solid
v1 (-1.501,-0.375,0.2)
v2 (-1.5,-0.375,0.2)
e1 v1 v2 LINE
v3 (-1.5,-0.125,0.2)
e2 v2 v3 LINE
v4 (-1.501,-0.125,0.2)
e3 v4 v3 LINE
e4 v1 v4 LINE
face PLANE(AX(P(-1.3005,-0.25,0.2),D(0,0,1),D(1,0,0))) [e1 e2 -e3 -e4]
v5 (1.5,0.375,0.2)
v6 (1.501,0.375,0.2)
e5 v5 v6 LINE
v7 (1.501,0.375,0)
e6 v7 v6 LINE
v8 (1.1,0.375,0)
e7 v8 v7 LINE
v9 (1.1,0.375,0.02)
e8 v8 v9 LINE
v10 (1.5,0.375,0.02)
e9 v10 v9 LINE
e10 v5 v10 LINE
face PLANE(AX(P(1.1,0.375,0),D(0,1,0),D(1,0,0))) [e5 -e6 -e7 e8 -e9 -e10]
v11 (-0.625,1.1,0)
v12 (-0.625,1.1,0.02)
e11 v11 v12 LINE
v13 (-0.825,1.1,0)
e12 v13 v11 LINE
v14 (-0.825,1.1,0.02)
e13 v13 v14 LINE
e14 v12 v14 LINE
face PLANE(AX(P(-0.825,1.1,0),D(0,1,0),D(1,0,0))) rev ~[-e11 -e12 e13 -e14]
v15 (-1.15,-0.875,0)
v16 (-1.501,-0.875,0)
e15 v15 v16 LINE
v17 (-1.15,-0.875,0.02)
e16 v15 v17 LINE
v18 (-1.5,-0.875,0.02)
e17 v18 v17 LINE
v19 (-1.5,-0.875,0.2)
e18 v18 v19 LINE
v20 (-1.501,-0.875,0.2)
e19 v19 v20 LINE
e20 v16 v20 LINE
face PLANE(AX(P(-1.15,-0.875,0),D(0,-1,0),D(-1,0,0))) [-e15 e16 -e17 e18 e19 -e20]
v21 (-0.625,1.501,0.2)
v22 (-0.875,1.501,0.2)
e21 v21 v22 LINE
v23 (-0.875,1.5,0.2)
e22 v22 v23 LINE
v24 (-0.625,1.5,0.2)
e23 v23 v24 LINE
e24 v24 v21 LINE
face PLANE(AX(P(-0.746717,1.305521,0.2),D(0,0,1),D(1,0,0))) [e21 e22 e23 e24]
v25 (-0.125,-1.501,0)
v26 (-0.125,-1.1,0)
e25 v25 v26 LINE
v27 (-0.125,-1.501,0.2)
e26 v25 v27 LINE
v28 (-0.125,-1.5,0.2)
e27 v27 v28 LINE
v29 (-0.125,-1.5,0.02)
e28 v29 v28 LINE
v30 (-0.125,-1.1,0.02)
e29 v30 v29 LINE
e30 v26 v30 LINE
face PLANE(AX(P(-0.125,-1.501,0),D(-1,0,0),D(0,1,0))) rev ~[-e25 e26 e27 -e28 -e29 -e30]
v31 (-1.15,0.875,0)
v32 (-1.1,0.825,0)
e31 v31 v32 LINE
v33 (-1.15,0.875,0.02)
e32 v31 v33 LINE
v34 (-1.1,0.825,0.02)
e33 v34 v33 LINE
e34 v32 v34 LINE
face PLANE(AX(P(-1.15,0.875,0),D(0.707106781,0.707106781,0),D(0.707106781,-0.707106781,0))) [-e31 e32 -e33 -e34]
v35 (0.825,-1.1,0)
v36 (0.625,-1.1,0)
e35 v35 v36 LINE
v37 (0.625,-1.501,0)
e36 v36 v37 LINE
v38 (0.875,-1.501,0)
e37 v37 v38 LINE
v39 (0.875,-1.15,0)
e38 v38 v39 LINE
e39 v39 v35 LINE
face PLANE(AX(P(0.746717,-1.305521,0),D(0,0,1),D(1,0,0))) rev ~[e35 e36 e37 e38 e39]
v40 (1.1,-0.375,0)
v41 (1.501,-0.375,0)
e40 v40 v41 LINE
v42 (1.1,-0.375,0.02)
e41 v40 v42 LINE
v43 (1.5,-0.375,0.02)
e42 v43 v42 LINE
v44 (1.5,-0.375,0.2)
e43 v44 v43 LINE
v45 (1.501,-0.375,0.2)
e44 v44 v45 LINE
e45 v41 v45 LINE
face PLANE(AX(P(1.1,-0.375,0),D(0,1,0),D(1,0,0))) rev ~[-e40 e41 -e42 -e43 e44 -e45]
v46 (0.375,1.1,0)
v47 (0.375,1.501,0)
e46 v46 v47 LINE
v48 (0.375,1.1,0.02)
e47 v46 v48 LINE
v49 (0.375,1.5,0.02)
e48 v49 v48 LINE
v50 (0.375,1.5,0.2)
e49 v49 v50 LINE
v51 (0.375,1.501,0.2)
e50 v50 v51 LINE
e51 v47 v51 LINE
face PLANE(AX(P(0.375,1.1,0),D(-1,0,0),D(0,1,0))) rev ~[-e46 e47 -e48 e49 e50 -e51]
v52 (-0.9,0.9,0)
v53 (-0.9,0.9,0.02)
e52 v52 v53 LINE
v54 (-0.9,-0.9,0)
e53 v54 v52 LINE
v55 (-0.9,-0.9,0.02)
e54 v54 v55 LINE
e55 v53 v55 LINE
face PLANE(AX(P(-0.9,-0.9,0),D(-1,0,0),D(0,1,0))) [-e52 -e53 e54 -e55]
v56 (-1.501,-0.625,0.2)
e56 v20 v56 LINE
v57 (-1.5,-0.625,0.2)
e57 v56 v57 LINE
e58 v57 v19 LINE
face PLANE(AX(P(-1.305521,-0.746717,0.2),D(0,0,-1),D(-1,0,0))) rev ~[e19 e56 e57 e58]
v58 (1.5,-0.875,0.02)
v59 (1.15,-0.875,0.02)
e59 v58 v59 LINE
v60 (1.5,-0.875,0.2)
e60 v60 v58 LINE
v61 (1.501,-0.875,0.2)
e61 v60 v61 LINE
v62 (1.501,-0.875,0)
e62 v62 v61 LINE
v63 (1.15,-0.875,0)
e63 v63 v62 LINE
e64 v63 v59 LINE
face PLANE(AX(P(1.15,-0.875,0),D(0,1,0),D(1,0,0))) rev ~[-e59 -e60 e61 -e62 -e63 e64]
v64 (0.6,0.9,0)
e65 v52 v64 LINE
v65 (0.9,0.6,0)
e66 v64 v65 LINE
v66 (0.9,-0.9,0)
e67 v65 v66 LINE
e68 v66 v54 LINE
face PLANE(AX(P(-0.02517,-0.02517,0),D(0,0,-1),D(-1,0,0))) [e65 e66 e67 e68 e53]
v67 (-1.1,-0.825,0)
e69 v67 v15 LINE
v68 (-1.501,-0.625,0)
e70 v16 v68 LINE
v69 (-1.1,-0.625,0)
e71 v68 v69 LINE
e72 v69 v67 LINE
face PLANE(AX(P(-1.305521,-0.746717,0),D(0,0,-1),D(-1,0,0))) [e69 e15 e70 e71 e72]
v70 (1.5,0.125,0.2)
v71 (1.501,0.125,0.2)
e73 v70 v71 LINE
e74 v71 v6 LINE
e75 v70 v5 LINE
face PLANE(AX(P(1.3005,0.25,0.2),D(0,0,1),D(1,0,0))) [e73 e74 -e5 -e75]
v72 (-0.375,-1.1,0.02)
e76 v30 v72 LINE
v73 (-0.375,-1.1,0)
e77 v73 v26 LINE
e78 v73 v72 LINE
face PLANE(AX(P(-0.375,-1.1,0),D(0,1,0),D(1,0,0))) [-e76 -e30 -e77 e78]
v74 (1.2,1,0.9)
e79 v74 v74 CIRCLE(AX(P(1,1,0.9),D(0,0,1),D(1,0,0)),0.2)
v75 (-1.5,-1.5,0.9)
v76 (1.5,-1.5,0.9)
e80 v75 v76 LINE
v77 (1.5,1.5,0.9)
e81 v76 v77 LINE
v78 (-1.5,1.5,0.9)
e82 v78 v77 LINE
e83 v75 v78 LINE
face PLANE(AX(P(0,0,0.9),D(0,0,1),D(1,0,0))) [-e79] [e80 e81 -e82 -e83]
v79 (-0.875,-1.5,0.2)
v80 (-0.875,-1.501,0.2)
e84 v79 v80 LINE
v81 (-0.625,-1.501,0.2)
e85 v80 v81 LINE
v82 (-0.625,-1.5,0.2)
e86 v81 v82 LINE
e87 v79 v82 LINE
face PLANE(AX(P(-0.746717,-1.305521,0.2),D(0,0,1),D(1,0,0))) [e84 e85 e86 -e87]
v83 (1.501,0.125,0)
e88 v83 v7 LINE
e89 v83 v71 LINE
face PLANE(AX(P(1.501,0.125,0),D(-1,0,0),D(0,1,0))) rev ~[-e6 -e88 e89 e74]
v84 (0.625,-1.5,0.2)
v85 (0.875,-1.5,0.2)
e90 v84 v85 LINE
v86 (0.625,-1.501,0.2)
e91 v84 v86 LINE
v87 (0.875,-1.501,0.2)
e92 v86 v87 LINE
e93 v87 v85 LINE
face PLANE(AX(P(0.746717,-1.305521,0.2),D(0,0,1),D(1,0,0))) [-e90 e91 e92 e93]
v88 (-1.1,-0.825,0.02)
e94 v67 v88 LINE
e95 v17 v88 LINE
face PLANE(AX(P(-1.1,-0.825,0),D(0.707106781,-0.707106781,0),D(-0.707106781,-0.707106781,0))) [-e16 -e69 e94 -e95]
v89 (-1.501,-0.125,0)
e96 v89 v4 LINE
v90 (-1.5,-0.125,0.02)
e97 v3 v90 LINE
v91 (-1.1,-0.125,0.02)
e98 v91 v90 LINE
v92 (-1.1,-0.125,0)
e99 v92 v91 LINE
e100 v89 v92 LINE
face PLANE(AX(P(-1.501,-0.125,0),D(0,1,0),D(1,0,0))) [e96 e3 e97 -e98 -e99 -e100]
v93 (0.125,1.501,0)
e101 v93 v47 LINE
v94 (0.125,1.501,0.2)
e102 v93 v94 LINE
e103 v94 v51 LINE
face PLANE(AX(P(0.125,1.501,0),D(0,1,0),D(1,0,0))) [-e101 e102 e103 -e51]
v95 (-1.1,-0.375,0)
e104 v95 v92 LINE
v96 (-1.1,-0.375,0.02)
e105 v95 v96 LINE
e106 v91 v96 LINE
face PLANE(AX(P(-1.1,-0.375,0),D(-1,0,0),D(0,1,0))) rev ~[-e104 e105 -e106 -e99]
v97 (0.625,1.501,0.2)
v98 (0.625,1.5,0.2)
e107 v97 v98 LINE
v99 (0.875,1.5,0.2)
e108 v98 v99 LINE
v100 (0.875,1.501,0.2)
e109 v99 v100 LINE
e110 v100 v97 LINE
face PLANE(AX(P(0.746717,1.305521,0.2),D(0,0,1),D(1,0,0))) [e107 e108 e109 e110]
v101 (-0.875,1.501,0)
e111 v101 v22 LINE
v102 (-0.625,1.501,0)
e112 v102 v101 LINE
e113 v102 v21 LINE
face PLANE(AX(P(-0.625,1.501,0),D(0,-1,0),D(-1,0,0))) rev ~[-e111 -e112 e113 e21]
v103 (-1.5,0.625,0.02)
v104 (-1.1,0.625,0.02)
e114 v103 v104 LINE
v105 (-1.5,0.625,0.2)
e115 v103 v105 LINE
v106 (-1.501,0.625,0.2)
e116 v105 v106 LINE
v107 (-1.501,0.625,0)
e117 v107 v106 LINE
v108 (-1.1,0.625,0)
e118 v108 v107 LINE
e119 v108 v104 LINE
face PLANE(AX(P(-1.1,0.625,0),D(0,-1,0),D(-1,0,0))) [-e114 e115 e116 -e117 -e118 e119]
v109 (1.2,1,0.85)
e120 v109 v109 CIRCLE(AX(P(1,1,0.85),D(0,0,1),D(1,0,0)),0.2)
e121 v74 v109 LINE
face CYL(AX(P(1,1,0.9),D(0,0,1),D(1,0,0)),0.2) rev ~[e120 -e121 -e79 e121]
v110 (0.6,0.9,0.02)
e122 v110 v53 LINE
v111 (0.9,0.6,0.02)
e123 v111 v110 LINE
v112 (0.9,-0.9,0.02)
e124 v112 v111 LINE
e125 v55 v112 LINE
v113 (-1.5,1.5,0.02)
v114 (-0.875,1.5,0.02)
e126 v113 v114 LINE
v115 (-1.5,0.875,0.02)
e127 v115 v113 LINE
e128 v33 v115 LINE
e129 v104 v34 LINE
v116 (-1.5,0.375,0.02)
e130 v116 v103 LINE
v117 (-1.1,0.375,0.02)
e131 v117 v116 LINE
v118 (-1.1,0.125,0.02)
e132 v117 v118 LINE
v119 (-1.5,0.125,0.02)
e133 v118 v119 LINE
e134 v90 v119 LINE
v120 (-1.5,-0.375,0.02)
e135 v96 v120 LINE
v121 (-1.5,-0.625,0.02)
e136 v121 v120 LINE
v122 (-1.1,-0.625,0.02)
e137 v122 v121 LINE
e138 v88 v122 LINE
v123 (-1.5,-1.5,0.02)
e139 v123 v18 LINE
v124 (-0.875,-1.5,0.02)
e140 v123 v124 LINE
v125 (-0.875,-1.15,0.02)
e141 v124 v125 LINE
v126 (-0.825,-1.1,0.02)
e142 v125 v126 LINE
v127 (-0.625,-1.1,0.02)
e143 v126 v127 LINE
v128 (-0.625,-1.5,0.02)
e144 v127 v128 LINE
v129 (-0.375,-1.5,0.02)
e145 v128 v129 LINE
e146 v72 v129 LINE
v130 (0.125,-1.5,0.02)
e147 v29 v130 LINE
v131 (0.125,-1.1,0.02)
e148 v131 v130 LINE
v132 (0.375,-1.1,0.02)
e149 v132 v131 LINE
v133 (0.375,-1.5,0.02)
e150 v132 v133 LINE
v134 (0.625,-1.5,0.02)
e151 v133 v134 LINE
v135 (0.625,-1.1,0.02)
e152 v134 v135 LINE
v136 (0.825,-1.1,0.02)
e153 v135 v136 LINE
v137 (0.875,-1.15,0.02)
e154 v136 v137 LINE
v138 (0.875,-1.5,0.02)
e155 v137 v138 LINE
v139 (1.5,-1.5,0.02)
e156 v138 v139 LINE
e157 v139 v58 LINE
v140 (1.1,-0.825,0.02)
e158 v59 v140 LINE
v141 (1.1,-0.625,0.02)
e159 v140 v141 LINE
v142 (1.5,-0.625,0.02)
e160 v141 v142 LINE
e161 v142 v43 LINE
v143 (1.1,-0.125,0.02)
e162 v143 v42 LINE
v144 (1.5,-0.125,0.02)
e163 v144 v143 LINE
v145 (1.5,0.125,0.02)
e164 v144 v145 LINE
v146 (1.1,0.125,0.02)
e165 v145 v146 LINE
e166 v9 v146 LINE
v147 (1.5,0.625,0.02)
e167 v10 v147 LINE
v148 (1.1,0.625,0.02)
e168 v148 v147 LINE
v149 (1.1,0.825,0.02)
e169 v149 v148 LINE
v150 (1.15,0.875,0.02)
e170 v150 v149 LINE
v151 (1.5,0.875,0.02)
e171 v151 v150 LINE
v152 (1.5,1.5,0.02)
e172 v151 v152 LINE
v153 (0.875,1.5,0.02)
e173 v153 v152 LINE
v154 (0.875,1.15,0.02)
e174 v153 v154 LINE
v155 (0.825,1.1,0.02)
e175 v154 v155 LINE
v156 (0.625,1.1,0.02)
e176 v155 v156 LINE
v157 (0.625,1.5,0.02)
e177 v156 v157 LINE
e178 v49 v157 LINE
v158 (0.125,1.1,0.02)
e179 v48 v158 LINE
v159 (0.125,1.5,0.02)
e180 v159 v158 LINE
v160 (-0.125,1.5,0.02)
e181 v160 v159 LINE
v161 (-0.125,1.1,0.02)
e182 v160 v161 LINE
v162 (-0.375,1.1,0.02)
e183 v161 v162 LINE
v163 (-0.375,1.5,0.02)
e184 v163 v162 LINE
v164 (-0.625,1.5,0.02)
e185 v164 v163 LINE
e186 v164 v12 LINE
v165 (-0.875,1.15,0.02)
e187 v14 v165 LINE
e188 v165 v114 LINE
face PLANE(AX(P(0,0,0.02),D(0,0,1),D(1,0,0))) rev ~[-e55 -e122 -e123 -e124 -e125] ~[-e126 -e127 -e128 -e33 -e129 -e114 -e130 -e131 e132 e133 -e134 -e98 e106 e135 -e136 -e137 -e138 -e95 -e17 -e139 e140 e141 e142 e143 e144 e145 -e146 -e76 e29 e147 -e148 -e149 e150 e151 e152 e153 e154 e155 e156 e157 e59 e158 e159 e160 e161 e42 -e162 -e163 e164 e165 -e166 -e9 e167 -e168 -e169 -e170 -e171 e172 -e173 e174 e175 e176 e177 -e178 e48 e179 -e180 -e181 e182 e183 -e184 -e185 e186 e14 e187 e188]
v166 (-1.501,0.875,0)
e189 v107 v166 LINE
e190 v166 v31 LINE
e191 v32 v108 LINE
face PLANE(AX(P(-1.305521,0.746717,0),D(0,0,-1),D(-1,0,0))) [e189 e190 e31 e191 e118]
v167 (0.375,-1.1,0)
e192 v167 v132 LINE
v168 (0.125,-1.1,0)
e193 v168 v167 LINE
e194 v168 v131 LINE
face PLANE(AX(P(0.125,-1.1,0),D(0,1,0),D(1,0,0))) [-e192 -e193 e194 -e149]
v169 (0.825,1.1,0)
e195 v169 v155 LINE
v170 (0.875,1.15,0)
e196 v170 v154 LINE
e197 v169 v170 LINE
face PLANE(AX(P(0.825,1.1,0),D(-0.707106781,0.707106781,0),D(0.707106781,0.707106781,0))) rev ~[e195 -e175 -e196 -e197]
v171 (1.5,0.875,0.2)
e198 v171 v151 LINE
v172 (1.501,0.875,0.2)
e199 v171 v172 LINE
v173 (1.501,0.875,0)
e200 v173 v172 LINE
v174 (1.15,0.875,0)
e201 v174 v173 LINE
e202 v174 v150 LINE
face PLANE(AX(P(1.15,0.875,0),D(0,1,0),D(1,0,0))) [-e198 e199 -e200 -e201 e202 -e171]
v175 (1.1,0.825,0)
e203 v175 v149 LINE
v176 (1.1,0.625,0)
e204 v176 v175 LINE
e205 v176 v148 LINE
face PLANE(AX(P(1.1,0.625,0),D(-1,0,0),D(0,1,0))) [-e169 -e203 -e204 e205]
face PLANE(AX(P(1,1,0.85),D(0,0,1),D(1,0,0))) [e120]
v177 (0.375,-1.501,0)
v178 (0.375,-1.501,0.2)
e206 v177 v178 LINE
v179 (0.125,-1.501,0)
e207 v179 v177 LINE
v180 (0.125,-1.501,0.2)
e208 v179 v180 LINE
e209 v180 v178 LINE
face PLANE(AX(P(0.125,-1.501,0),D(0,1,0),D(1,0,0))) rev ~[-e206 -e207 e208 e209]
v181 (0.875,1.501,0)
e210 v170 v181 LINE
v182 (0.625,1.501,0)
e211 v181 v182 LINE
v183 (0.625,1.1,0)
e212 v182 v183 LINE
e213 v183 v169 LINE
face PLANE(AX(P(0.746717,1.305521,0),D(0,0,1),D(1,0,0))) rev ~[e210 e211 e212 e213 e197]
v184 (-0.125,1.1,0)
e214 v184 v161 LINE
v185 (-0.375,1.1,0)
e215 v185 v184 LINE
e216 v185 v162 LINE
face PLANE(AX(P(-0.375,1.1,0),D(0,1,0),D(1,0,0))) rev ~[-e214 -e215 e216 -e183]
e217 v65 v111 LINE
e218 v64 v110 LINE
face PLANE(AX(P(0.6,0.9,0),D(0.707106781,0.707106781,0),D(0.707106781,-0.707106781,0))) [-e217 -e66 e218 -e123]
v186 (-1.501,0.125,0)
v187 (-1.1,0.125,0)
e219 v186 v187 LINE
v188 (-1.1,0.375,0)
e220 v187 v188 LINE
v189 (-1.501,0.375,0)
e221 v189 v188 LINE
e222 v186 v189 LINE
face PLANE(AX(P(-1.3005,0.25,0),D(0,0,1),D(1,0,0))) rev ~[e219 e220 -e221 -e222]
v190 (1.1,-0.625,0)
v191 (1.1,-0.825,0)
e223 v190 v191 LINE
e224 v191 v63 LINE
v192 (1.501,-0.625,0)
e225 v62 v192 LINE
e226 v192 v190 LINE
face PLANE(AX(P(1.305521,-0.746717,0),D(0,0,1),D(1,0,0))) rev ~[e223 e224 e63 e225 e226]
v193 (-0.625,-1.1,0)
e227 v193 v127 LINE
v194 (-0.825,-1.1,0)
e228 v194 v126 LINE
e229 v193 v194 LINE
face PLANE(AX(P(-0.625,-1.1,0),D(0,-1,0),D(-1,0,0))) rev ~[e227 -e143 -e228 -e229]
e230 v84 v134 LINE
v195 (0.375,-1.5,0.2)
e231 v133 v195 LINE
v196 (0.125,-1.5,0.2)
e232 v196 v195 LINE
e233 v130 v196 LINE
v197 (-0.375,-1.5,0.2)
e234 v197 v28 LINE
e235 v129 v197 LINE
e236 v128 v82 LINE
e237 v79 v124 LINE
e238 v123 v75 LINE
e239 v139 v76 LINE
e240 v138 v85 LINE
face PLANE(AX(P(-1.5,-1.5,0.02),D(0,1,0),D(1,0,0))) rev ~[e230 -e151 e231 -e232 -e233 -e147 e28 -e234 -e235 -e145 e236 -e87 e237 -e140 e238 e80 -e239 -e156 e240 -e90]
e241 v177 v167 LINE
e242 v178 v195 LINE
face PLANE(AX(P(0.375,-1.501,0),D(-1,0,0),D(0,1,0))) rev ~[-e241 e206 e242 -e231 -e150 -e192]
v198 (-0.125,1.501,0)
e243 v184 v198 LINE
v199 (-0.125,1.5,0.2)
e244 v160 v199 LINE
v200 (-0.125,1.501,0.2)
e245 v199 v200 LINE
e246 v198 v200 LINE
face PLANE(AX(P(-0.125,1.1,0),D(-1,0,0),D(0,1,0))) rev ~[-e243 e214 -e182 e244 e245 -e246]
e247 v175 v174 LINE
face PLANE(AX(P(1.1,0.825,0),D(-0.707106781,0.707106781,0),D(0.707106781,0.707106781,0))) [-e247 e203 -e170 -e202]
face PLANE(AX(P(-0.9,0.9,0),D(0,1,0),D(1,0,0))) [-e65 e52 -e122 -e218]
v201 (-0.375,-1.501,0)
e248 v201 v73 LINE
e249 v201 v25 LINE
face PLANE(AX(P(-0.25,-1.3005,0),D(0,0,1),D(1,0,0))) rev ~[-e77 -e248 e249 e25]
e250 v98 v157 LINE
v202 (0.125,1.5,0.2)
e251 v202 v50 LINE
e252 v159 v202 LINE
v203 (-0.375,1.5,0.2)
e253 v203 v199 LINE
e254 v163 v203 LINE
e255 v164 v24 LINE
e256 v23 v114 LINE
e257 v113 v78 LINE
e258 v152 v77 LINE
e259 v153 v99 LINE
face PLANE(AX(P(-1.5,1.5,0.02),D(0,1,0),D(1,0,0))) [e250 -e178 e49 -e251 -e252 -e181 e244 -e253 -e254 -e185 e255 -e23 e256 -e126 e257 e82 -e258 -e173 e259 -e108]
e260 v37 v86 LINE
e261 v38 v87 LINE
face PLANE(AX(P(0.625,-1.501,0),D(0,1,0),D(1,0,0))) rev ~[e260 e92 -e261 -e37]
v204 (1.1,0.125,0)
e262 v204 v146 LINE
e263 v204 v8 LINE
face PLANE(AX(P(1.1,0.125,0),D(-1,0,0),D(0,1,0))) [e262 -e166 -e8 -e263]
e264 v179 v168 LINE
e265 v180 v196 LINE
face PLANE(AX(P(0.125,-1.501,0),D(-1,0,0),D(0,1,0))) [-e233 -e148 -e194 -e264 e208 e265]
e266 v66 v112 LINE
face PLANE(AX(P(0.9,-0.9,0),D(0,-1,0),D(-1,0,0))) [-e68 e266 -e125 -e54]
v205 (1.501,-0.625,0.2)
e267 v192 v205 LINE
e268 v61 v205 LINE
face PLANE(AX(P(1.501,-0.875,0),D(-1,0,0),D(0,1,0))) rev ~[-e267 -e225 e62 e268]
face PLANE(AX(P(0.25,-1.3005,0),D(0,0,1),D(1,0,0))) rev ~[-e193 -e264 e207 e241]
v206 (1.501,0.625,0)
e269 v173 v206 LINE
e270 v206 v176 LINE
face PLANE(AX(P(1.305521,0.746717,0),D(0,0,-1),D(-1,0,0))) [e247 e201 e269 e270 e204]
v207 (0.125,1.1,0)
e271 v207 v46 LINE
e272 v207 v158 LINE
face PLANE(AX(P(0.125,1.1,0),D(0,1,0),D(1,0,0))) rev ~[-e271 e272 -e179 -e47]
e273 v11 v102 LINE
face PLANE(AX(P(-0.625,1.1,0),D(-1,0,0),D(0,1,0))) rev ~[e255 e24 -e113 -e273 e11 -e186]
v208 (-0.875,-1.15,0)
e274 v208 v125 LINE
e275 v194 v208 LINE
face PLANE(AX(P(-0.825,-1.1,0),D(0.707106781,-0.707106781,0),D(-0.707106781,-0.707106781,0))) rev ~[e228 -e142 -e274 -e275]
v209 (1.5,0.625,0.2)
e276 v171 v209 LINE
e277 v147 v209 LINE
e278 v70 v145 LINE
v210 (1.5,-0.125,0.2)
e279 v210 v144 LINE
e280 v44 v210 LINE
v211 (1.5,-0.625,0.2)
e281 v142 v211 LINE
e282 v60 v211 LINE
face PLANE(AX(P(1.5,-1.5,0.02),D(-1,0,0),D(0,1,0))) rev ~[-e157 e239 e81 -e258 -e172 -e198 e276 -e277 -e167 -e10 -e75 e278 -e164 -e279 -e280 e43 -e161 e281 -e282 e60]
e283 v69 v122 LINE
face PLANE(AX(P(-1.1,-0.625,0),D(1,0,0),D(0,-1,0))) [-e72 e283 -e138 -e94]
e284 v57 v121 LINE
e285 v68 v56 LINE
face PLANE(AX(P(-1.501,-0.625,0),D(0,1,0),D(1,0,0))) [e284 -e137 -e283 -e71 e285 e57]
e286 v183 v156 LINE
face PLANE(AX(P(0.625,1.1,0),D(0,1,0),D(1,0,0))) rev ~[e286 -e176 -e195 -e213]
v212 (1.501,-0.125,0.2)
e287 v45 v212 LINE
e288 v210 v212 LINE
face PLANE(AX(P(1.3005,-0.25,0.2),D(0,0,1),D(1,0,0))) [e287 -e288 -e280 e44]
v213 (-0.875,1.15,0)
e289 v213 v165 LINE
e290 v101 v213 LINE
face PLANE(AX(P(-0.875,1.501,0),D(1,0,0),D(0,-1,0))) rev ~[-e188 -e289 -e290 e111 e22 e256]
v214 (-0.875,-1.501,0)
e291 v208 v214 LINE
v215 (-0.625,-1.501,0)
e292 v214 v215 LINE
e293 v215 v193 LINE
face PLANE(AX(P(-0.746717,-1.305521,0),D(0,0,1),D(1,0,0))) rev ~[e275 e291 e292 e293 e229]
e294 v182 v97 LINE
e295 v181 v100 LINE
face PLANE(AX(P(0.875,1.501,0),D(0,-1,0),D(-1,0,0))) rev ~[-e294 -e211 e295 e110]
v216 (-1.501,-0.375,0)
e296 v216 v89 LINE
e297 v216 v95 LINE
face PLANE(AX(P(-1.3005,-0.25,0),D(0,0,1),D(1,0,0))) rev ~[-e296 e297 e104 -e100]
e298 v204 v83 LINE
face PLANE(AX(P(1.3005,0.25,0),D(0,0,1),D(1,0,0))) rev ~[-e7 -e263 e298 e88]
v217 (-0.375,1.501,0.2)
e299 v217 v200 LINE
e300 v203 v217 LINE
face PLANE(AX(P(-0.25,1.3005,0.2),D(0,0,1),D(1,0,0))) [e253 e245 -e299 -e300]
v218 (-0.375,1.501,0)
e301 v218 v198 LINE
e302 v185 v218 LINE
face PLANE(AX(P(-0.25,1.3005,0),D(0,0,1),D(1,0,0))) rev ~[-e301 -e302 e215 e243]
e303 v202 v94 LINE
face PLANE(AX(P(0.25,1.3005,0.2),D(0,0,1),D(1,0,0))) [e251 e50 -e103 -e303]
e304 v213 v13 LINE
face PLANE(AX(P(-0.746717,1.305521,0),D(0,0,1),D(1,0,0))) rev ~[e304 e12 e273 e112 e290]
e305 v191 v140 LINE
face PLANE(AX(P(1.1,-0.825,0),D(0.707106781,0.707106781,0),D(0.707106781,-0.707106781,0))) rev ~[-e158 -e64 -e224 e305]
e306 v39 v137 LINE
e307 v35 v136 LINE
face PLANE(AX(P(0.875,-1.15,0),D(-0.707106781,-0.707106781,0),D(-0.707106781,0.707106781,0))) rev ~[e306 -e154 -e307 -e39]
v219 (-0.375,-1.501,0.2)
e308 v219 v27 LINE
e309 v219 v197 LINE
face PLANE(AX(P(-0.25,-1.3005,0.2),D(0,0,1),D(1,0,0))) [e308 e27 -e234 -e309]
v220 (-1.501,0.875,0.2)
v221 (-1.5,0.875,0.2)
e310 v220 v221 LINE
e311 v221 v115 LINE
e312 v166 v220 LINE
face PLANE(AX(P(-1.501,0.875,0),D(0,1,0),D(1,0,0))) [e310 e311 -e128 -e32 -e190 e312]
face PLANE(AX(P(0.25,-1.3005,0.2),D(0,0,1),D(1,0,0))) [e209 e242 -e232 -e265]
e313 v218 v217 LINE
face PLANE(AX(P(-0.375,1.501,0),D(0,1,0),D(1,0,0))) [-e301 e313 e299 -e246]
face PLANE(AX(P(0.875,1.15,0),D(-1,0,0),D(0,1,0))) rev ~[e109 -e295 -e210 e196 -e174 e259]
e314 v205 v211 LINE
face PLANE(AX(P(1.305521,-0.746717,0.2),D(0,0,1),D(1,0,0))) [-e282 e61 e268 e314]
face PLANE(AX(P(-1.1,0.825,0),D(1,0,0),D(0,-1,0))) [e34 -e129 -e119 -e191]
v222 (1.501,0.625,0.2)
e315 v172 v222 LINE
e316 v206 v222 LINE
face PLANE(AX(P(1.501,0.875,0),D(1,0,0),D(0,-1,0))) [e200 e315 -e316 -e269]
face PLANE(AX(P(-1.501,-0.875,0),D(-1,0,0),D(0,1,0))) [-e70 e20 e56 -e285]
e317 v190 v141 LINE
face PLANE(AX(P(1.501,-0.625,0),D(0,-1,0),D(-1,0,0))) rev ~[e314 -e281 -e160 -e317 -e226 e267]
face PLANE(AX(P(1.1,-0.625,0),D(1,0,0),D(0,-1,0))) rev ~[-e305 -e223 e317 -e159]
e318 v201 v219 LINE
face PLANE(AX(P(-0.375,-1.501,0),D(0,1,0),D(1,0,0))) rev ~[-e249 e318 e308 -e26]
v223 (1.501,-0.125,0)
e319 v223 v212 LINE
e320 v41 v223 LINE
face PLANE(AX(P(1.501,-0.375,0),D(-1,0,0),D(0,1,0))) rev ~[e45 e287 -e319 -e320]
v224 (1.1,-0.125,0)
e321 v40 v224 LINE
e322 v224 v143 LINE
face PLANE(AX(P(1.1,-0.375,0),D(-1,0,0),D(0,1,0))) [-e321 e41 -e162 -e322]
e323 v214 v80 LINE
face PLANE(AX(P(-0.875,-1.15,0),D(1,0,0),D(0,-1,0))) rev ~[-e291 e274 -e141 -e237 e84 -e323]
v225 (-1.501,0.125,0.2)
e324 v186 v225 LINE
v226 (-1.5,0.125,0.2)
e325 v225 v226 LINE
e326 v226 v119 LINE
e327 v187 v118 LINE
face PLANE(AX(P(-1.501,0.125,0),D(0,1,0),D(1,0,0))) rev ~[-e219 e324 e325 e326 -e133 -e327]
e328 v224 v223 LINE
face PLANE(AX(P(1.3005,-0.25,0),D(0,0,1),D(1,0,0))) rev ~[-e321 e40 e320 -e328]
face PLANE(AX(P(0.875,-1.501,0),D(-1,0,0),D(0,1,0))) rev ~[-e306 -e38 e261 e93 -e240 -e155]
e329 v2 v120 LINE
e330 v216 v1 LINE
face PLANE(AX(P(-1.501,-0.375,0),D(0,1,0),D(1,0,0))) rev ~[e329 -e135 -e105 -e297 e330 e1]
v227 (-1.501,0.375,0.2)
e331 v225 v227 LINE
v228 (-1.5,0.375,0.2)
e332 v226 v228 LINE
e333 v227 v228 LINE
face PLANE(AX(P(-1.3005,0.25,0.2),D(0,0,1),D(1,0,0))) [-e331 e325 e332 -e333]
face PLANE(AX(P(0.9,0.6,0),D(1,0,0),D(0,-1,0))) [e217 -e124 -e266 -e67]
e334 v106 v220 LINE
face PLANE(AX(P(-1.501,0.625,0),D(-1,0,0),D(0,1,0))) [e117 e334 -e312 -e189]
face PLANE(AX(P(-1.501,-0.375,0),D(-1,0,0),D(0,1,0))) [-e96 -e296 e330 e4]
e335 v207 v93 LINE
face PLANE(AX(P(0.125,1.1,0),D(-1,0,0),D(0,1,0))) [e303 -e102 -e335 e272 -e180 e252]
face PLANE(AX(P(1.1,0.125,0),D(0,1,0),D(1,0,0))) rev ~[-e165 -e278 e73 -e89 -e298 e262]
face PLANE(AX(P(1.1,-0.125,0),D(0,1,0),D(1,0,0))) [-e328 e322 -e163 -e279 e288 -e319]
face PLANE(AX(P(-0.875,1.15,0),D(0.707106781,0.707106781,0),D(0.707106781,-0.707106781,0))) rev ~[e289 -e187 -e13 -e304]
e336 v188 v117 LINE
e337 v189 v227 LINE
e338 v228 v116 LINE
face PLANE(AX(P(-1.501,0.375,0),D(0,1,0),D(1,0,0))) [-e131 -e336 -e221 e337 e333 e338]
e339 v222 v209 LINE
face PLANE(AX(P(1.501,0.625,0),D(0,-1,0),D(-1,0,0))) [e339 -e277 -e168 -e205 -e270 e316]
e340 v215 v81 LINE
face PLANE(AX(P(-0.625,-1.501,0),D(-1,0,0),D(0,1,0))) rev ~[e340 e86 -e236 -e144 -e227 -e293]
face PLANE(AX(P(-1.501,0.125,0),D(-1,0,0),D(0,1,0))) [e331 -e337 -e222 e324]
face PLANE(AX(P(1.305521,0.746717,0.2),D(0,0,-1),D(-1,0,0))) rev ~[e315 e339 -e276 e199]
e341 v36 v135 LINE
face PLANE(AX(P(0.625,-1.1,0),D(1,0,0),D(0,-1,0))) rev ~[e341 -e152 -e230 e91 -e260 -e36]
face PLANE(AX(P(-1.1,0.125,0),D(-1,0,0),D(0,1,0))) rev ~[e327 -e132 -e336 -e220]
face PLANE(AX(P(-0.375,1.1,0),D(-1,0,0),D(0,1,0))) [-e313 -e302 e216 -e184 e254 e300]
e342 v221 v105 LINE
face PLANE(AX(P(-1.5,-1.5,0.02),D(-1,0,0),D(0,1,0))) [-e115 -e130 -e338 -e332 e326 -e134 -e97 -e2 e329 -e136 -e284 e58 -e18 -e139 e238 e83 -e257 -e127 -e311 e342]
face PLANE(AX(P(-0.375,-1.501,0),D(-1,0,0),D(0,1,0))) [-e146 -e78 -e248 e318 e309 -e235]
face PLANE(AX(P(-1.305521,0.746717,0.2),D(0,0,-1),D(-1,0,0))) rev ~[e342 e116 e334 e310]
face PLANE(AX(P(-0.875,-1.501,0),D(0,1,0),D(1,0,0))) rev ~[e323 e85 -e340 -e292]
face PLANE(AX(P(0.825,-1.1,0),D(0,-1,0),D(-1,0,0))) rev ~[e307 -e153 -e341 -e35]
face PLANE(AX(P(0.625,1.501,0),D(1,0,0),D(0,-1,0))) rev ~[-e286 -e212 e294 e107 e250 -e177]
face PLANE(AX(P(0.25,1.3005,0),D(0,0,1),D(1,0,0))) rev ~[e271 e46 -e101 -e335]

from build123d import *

# Parameters (mm, degrees)
SKETCH1_W      = 3
SKETCH1_H      = 3
EXTRUDE1_DEPTH = 0.88
SKETCH2_W      = 0.25
SKETCH2_H      = 0.401
SKETCH2_W_2    = 0.401
SKETCH2_H_2    = 0.25
EXTRUDE2_DEPTH = 0.2
SKETCH3_R      = 0.2
EXTRUDE3_DEPTH = 0.05


with BuildPart() as part:
    # Sketch1 → Extrude1 (new body)
    with BuildSketch(Plane.XY.offset(0.02)):
        Rectangle(SKETCH1_W, SKETCH1_H)
    extrude(amount=EXTRUDE1_DEPTH)

    # Sketch2 → Extrude2 (add)
    with BuildSketch(Plane.XY):
        Polygon((0.6, 0.9), (0.9, 0.6), (0.9, -0.9), (-0.9, -0.9), (-0.9, 0.9), align=None)
        Polygon((0.825, 1.1), (0.875, 1.15), (0.875, 1.501), (0.625, 1.501), (0.625, 1.1), align=None)
        Polygon((-0.875, 1.15), (-0.825, 1.1), (-0.625, 1.1), (-0.625, 1.501), (-0.875, 1.501), align=None)
        with Locations((-0.25, 1.3005)):
            Rectangle(SKETCH2_W, SKETCH2_H)
        with Locations((0.25, 1.3005)):
            Rectangle(SKETCH2_W, SKETCH2_H)
        Polygon((-1.501, 0.625), (-1.501, 0.875), (-1.15, 0.875), (-1.1, 0.825), (-1.1, 0.625), align=None)
        Polygon((0.875, -1.501), (0.875, -1.15), (0.825, -1.1), (0.625, -1.1), (0.625, -1.501), align=None)
        with Locations((0.25, -1.3005)):
            Rectangle(SKETCH2_W, SKETCH2_H)
        with Locations((-0.25, -1.3005)):
            Rectangle(SKETCH2_W, SKETCH2_H)
        Polygon((-0.625, -1.501), (-0.625, -1.1), (-0.825, -1.1), (-0.875, -1.15), (-0.875, -1.501), align=None)
        Polygon((1.501, -0.625), (1.1, -0.625), (1.1, -0.825), (1.15, -0.875), (1.501, -0.875), align=None)
        Polygon((1.501, 0.625), (1.1, 0.625), (1.1, 0.825), (1.15, 0.875), (1.501, 0.875), align=None)
        with Locations((1.3005, -0.25)):
            Rectangle(SKETCH2_W_2, SKETCH2_H_2)
        with Locations((-1.3005, -0.25)):
            Rectangle(SKETCH2_W_2, SKETCH2_H_2)
        Polygon((-1.501, -0.625), (-1.1, -0.625), (-1.1, -0.825), (-1.15, -0.875), (-1.501, -0.875), align=None)
        with Locations((-1.3005, 0.25)):
            Rectangle(SKETCH2_W_2, SKETCH2_H_2)
        with Locations((1.3005, 0.25)):
            Rectangle(SKETCH2_W_2, SKETCH2_H_2)
    extrude(amount=EXTRUDE2_DEPTH)

    # Sketch3 → Extrude3 (cut)
    with BuildSketch(Plane.XY.offset(0.9)):
        with Locations((1, 1)):
            Circle(SKETCH3_R)
    extrude(amount=-EXTRUDE3_DEPTH, mode=Mode.SUBTRACT)


solid = part.part
